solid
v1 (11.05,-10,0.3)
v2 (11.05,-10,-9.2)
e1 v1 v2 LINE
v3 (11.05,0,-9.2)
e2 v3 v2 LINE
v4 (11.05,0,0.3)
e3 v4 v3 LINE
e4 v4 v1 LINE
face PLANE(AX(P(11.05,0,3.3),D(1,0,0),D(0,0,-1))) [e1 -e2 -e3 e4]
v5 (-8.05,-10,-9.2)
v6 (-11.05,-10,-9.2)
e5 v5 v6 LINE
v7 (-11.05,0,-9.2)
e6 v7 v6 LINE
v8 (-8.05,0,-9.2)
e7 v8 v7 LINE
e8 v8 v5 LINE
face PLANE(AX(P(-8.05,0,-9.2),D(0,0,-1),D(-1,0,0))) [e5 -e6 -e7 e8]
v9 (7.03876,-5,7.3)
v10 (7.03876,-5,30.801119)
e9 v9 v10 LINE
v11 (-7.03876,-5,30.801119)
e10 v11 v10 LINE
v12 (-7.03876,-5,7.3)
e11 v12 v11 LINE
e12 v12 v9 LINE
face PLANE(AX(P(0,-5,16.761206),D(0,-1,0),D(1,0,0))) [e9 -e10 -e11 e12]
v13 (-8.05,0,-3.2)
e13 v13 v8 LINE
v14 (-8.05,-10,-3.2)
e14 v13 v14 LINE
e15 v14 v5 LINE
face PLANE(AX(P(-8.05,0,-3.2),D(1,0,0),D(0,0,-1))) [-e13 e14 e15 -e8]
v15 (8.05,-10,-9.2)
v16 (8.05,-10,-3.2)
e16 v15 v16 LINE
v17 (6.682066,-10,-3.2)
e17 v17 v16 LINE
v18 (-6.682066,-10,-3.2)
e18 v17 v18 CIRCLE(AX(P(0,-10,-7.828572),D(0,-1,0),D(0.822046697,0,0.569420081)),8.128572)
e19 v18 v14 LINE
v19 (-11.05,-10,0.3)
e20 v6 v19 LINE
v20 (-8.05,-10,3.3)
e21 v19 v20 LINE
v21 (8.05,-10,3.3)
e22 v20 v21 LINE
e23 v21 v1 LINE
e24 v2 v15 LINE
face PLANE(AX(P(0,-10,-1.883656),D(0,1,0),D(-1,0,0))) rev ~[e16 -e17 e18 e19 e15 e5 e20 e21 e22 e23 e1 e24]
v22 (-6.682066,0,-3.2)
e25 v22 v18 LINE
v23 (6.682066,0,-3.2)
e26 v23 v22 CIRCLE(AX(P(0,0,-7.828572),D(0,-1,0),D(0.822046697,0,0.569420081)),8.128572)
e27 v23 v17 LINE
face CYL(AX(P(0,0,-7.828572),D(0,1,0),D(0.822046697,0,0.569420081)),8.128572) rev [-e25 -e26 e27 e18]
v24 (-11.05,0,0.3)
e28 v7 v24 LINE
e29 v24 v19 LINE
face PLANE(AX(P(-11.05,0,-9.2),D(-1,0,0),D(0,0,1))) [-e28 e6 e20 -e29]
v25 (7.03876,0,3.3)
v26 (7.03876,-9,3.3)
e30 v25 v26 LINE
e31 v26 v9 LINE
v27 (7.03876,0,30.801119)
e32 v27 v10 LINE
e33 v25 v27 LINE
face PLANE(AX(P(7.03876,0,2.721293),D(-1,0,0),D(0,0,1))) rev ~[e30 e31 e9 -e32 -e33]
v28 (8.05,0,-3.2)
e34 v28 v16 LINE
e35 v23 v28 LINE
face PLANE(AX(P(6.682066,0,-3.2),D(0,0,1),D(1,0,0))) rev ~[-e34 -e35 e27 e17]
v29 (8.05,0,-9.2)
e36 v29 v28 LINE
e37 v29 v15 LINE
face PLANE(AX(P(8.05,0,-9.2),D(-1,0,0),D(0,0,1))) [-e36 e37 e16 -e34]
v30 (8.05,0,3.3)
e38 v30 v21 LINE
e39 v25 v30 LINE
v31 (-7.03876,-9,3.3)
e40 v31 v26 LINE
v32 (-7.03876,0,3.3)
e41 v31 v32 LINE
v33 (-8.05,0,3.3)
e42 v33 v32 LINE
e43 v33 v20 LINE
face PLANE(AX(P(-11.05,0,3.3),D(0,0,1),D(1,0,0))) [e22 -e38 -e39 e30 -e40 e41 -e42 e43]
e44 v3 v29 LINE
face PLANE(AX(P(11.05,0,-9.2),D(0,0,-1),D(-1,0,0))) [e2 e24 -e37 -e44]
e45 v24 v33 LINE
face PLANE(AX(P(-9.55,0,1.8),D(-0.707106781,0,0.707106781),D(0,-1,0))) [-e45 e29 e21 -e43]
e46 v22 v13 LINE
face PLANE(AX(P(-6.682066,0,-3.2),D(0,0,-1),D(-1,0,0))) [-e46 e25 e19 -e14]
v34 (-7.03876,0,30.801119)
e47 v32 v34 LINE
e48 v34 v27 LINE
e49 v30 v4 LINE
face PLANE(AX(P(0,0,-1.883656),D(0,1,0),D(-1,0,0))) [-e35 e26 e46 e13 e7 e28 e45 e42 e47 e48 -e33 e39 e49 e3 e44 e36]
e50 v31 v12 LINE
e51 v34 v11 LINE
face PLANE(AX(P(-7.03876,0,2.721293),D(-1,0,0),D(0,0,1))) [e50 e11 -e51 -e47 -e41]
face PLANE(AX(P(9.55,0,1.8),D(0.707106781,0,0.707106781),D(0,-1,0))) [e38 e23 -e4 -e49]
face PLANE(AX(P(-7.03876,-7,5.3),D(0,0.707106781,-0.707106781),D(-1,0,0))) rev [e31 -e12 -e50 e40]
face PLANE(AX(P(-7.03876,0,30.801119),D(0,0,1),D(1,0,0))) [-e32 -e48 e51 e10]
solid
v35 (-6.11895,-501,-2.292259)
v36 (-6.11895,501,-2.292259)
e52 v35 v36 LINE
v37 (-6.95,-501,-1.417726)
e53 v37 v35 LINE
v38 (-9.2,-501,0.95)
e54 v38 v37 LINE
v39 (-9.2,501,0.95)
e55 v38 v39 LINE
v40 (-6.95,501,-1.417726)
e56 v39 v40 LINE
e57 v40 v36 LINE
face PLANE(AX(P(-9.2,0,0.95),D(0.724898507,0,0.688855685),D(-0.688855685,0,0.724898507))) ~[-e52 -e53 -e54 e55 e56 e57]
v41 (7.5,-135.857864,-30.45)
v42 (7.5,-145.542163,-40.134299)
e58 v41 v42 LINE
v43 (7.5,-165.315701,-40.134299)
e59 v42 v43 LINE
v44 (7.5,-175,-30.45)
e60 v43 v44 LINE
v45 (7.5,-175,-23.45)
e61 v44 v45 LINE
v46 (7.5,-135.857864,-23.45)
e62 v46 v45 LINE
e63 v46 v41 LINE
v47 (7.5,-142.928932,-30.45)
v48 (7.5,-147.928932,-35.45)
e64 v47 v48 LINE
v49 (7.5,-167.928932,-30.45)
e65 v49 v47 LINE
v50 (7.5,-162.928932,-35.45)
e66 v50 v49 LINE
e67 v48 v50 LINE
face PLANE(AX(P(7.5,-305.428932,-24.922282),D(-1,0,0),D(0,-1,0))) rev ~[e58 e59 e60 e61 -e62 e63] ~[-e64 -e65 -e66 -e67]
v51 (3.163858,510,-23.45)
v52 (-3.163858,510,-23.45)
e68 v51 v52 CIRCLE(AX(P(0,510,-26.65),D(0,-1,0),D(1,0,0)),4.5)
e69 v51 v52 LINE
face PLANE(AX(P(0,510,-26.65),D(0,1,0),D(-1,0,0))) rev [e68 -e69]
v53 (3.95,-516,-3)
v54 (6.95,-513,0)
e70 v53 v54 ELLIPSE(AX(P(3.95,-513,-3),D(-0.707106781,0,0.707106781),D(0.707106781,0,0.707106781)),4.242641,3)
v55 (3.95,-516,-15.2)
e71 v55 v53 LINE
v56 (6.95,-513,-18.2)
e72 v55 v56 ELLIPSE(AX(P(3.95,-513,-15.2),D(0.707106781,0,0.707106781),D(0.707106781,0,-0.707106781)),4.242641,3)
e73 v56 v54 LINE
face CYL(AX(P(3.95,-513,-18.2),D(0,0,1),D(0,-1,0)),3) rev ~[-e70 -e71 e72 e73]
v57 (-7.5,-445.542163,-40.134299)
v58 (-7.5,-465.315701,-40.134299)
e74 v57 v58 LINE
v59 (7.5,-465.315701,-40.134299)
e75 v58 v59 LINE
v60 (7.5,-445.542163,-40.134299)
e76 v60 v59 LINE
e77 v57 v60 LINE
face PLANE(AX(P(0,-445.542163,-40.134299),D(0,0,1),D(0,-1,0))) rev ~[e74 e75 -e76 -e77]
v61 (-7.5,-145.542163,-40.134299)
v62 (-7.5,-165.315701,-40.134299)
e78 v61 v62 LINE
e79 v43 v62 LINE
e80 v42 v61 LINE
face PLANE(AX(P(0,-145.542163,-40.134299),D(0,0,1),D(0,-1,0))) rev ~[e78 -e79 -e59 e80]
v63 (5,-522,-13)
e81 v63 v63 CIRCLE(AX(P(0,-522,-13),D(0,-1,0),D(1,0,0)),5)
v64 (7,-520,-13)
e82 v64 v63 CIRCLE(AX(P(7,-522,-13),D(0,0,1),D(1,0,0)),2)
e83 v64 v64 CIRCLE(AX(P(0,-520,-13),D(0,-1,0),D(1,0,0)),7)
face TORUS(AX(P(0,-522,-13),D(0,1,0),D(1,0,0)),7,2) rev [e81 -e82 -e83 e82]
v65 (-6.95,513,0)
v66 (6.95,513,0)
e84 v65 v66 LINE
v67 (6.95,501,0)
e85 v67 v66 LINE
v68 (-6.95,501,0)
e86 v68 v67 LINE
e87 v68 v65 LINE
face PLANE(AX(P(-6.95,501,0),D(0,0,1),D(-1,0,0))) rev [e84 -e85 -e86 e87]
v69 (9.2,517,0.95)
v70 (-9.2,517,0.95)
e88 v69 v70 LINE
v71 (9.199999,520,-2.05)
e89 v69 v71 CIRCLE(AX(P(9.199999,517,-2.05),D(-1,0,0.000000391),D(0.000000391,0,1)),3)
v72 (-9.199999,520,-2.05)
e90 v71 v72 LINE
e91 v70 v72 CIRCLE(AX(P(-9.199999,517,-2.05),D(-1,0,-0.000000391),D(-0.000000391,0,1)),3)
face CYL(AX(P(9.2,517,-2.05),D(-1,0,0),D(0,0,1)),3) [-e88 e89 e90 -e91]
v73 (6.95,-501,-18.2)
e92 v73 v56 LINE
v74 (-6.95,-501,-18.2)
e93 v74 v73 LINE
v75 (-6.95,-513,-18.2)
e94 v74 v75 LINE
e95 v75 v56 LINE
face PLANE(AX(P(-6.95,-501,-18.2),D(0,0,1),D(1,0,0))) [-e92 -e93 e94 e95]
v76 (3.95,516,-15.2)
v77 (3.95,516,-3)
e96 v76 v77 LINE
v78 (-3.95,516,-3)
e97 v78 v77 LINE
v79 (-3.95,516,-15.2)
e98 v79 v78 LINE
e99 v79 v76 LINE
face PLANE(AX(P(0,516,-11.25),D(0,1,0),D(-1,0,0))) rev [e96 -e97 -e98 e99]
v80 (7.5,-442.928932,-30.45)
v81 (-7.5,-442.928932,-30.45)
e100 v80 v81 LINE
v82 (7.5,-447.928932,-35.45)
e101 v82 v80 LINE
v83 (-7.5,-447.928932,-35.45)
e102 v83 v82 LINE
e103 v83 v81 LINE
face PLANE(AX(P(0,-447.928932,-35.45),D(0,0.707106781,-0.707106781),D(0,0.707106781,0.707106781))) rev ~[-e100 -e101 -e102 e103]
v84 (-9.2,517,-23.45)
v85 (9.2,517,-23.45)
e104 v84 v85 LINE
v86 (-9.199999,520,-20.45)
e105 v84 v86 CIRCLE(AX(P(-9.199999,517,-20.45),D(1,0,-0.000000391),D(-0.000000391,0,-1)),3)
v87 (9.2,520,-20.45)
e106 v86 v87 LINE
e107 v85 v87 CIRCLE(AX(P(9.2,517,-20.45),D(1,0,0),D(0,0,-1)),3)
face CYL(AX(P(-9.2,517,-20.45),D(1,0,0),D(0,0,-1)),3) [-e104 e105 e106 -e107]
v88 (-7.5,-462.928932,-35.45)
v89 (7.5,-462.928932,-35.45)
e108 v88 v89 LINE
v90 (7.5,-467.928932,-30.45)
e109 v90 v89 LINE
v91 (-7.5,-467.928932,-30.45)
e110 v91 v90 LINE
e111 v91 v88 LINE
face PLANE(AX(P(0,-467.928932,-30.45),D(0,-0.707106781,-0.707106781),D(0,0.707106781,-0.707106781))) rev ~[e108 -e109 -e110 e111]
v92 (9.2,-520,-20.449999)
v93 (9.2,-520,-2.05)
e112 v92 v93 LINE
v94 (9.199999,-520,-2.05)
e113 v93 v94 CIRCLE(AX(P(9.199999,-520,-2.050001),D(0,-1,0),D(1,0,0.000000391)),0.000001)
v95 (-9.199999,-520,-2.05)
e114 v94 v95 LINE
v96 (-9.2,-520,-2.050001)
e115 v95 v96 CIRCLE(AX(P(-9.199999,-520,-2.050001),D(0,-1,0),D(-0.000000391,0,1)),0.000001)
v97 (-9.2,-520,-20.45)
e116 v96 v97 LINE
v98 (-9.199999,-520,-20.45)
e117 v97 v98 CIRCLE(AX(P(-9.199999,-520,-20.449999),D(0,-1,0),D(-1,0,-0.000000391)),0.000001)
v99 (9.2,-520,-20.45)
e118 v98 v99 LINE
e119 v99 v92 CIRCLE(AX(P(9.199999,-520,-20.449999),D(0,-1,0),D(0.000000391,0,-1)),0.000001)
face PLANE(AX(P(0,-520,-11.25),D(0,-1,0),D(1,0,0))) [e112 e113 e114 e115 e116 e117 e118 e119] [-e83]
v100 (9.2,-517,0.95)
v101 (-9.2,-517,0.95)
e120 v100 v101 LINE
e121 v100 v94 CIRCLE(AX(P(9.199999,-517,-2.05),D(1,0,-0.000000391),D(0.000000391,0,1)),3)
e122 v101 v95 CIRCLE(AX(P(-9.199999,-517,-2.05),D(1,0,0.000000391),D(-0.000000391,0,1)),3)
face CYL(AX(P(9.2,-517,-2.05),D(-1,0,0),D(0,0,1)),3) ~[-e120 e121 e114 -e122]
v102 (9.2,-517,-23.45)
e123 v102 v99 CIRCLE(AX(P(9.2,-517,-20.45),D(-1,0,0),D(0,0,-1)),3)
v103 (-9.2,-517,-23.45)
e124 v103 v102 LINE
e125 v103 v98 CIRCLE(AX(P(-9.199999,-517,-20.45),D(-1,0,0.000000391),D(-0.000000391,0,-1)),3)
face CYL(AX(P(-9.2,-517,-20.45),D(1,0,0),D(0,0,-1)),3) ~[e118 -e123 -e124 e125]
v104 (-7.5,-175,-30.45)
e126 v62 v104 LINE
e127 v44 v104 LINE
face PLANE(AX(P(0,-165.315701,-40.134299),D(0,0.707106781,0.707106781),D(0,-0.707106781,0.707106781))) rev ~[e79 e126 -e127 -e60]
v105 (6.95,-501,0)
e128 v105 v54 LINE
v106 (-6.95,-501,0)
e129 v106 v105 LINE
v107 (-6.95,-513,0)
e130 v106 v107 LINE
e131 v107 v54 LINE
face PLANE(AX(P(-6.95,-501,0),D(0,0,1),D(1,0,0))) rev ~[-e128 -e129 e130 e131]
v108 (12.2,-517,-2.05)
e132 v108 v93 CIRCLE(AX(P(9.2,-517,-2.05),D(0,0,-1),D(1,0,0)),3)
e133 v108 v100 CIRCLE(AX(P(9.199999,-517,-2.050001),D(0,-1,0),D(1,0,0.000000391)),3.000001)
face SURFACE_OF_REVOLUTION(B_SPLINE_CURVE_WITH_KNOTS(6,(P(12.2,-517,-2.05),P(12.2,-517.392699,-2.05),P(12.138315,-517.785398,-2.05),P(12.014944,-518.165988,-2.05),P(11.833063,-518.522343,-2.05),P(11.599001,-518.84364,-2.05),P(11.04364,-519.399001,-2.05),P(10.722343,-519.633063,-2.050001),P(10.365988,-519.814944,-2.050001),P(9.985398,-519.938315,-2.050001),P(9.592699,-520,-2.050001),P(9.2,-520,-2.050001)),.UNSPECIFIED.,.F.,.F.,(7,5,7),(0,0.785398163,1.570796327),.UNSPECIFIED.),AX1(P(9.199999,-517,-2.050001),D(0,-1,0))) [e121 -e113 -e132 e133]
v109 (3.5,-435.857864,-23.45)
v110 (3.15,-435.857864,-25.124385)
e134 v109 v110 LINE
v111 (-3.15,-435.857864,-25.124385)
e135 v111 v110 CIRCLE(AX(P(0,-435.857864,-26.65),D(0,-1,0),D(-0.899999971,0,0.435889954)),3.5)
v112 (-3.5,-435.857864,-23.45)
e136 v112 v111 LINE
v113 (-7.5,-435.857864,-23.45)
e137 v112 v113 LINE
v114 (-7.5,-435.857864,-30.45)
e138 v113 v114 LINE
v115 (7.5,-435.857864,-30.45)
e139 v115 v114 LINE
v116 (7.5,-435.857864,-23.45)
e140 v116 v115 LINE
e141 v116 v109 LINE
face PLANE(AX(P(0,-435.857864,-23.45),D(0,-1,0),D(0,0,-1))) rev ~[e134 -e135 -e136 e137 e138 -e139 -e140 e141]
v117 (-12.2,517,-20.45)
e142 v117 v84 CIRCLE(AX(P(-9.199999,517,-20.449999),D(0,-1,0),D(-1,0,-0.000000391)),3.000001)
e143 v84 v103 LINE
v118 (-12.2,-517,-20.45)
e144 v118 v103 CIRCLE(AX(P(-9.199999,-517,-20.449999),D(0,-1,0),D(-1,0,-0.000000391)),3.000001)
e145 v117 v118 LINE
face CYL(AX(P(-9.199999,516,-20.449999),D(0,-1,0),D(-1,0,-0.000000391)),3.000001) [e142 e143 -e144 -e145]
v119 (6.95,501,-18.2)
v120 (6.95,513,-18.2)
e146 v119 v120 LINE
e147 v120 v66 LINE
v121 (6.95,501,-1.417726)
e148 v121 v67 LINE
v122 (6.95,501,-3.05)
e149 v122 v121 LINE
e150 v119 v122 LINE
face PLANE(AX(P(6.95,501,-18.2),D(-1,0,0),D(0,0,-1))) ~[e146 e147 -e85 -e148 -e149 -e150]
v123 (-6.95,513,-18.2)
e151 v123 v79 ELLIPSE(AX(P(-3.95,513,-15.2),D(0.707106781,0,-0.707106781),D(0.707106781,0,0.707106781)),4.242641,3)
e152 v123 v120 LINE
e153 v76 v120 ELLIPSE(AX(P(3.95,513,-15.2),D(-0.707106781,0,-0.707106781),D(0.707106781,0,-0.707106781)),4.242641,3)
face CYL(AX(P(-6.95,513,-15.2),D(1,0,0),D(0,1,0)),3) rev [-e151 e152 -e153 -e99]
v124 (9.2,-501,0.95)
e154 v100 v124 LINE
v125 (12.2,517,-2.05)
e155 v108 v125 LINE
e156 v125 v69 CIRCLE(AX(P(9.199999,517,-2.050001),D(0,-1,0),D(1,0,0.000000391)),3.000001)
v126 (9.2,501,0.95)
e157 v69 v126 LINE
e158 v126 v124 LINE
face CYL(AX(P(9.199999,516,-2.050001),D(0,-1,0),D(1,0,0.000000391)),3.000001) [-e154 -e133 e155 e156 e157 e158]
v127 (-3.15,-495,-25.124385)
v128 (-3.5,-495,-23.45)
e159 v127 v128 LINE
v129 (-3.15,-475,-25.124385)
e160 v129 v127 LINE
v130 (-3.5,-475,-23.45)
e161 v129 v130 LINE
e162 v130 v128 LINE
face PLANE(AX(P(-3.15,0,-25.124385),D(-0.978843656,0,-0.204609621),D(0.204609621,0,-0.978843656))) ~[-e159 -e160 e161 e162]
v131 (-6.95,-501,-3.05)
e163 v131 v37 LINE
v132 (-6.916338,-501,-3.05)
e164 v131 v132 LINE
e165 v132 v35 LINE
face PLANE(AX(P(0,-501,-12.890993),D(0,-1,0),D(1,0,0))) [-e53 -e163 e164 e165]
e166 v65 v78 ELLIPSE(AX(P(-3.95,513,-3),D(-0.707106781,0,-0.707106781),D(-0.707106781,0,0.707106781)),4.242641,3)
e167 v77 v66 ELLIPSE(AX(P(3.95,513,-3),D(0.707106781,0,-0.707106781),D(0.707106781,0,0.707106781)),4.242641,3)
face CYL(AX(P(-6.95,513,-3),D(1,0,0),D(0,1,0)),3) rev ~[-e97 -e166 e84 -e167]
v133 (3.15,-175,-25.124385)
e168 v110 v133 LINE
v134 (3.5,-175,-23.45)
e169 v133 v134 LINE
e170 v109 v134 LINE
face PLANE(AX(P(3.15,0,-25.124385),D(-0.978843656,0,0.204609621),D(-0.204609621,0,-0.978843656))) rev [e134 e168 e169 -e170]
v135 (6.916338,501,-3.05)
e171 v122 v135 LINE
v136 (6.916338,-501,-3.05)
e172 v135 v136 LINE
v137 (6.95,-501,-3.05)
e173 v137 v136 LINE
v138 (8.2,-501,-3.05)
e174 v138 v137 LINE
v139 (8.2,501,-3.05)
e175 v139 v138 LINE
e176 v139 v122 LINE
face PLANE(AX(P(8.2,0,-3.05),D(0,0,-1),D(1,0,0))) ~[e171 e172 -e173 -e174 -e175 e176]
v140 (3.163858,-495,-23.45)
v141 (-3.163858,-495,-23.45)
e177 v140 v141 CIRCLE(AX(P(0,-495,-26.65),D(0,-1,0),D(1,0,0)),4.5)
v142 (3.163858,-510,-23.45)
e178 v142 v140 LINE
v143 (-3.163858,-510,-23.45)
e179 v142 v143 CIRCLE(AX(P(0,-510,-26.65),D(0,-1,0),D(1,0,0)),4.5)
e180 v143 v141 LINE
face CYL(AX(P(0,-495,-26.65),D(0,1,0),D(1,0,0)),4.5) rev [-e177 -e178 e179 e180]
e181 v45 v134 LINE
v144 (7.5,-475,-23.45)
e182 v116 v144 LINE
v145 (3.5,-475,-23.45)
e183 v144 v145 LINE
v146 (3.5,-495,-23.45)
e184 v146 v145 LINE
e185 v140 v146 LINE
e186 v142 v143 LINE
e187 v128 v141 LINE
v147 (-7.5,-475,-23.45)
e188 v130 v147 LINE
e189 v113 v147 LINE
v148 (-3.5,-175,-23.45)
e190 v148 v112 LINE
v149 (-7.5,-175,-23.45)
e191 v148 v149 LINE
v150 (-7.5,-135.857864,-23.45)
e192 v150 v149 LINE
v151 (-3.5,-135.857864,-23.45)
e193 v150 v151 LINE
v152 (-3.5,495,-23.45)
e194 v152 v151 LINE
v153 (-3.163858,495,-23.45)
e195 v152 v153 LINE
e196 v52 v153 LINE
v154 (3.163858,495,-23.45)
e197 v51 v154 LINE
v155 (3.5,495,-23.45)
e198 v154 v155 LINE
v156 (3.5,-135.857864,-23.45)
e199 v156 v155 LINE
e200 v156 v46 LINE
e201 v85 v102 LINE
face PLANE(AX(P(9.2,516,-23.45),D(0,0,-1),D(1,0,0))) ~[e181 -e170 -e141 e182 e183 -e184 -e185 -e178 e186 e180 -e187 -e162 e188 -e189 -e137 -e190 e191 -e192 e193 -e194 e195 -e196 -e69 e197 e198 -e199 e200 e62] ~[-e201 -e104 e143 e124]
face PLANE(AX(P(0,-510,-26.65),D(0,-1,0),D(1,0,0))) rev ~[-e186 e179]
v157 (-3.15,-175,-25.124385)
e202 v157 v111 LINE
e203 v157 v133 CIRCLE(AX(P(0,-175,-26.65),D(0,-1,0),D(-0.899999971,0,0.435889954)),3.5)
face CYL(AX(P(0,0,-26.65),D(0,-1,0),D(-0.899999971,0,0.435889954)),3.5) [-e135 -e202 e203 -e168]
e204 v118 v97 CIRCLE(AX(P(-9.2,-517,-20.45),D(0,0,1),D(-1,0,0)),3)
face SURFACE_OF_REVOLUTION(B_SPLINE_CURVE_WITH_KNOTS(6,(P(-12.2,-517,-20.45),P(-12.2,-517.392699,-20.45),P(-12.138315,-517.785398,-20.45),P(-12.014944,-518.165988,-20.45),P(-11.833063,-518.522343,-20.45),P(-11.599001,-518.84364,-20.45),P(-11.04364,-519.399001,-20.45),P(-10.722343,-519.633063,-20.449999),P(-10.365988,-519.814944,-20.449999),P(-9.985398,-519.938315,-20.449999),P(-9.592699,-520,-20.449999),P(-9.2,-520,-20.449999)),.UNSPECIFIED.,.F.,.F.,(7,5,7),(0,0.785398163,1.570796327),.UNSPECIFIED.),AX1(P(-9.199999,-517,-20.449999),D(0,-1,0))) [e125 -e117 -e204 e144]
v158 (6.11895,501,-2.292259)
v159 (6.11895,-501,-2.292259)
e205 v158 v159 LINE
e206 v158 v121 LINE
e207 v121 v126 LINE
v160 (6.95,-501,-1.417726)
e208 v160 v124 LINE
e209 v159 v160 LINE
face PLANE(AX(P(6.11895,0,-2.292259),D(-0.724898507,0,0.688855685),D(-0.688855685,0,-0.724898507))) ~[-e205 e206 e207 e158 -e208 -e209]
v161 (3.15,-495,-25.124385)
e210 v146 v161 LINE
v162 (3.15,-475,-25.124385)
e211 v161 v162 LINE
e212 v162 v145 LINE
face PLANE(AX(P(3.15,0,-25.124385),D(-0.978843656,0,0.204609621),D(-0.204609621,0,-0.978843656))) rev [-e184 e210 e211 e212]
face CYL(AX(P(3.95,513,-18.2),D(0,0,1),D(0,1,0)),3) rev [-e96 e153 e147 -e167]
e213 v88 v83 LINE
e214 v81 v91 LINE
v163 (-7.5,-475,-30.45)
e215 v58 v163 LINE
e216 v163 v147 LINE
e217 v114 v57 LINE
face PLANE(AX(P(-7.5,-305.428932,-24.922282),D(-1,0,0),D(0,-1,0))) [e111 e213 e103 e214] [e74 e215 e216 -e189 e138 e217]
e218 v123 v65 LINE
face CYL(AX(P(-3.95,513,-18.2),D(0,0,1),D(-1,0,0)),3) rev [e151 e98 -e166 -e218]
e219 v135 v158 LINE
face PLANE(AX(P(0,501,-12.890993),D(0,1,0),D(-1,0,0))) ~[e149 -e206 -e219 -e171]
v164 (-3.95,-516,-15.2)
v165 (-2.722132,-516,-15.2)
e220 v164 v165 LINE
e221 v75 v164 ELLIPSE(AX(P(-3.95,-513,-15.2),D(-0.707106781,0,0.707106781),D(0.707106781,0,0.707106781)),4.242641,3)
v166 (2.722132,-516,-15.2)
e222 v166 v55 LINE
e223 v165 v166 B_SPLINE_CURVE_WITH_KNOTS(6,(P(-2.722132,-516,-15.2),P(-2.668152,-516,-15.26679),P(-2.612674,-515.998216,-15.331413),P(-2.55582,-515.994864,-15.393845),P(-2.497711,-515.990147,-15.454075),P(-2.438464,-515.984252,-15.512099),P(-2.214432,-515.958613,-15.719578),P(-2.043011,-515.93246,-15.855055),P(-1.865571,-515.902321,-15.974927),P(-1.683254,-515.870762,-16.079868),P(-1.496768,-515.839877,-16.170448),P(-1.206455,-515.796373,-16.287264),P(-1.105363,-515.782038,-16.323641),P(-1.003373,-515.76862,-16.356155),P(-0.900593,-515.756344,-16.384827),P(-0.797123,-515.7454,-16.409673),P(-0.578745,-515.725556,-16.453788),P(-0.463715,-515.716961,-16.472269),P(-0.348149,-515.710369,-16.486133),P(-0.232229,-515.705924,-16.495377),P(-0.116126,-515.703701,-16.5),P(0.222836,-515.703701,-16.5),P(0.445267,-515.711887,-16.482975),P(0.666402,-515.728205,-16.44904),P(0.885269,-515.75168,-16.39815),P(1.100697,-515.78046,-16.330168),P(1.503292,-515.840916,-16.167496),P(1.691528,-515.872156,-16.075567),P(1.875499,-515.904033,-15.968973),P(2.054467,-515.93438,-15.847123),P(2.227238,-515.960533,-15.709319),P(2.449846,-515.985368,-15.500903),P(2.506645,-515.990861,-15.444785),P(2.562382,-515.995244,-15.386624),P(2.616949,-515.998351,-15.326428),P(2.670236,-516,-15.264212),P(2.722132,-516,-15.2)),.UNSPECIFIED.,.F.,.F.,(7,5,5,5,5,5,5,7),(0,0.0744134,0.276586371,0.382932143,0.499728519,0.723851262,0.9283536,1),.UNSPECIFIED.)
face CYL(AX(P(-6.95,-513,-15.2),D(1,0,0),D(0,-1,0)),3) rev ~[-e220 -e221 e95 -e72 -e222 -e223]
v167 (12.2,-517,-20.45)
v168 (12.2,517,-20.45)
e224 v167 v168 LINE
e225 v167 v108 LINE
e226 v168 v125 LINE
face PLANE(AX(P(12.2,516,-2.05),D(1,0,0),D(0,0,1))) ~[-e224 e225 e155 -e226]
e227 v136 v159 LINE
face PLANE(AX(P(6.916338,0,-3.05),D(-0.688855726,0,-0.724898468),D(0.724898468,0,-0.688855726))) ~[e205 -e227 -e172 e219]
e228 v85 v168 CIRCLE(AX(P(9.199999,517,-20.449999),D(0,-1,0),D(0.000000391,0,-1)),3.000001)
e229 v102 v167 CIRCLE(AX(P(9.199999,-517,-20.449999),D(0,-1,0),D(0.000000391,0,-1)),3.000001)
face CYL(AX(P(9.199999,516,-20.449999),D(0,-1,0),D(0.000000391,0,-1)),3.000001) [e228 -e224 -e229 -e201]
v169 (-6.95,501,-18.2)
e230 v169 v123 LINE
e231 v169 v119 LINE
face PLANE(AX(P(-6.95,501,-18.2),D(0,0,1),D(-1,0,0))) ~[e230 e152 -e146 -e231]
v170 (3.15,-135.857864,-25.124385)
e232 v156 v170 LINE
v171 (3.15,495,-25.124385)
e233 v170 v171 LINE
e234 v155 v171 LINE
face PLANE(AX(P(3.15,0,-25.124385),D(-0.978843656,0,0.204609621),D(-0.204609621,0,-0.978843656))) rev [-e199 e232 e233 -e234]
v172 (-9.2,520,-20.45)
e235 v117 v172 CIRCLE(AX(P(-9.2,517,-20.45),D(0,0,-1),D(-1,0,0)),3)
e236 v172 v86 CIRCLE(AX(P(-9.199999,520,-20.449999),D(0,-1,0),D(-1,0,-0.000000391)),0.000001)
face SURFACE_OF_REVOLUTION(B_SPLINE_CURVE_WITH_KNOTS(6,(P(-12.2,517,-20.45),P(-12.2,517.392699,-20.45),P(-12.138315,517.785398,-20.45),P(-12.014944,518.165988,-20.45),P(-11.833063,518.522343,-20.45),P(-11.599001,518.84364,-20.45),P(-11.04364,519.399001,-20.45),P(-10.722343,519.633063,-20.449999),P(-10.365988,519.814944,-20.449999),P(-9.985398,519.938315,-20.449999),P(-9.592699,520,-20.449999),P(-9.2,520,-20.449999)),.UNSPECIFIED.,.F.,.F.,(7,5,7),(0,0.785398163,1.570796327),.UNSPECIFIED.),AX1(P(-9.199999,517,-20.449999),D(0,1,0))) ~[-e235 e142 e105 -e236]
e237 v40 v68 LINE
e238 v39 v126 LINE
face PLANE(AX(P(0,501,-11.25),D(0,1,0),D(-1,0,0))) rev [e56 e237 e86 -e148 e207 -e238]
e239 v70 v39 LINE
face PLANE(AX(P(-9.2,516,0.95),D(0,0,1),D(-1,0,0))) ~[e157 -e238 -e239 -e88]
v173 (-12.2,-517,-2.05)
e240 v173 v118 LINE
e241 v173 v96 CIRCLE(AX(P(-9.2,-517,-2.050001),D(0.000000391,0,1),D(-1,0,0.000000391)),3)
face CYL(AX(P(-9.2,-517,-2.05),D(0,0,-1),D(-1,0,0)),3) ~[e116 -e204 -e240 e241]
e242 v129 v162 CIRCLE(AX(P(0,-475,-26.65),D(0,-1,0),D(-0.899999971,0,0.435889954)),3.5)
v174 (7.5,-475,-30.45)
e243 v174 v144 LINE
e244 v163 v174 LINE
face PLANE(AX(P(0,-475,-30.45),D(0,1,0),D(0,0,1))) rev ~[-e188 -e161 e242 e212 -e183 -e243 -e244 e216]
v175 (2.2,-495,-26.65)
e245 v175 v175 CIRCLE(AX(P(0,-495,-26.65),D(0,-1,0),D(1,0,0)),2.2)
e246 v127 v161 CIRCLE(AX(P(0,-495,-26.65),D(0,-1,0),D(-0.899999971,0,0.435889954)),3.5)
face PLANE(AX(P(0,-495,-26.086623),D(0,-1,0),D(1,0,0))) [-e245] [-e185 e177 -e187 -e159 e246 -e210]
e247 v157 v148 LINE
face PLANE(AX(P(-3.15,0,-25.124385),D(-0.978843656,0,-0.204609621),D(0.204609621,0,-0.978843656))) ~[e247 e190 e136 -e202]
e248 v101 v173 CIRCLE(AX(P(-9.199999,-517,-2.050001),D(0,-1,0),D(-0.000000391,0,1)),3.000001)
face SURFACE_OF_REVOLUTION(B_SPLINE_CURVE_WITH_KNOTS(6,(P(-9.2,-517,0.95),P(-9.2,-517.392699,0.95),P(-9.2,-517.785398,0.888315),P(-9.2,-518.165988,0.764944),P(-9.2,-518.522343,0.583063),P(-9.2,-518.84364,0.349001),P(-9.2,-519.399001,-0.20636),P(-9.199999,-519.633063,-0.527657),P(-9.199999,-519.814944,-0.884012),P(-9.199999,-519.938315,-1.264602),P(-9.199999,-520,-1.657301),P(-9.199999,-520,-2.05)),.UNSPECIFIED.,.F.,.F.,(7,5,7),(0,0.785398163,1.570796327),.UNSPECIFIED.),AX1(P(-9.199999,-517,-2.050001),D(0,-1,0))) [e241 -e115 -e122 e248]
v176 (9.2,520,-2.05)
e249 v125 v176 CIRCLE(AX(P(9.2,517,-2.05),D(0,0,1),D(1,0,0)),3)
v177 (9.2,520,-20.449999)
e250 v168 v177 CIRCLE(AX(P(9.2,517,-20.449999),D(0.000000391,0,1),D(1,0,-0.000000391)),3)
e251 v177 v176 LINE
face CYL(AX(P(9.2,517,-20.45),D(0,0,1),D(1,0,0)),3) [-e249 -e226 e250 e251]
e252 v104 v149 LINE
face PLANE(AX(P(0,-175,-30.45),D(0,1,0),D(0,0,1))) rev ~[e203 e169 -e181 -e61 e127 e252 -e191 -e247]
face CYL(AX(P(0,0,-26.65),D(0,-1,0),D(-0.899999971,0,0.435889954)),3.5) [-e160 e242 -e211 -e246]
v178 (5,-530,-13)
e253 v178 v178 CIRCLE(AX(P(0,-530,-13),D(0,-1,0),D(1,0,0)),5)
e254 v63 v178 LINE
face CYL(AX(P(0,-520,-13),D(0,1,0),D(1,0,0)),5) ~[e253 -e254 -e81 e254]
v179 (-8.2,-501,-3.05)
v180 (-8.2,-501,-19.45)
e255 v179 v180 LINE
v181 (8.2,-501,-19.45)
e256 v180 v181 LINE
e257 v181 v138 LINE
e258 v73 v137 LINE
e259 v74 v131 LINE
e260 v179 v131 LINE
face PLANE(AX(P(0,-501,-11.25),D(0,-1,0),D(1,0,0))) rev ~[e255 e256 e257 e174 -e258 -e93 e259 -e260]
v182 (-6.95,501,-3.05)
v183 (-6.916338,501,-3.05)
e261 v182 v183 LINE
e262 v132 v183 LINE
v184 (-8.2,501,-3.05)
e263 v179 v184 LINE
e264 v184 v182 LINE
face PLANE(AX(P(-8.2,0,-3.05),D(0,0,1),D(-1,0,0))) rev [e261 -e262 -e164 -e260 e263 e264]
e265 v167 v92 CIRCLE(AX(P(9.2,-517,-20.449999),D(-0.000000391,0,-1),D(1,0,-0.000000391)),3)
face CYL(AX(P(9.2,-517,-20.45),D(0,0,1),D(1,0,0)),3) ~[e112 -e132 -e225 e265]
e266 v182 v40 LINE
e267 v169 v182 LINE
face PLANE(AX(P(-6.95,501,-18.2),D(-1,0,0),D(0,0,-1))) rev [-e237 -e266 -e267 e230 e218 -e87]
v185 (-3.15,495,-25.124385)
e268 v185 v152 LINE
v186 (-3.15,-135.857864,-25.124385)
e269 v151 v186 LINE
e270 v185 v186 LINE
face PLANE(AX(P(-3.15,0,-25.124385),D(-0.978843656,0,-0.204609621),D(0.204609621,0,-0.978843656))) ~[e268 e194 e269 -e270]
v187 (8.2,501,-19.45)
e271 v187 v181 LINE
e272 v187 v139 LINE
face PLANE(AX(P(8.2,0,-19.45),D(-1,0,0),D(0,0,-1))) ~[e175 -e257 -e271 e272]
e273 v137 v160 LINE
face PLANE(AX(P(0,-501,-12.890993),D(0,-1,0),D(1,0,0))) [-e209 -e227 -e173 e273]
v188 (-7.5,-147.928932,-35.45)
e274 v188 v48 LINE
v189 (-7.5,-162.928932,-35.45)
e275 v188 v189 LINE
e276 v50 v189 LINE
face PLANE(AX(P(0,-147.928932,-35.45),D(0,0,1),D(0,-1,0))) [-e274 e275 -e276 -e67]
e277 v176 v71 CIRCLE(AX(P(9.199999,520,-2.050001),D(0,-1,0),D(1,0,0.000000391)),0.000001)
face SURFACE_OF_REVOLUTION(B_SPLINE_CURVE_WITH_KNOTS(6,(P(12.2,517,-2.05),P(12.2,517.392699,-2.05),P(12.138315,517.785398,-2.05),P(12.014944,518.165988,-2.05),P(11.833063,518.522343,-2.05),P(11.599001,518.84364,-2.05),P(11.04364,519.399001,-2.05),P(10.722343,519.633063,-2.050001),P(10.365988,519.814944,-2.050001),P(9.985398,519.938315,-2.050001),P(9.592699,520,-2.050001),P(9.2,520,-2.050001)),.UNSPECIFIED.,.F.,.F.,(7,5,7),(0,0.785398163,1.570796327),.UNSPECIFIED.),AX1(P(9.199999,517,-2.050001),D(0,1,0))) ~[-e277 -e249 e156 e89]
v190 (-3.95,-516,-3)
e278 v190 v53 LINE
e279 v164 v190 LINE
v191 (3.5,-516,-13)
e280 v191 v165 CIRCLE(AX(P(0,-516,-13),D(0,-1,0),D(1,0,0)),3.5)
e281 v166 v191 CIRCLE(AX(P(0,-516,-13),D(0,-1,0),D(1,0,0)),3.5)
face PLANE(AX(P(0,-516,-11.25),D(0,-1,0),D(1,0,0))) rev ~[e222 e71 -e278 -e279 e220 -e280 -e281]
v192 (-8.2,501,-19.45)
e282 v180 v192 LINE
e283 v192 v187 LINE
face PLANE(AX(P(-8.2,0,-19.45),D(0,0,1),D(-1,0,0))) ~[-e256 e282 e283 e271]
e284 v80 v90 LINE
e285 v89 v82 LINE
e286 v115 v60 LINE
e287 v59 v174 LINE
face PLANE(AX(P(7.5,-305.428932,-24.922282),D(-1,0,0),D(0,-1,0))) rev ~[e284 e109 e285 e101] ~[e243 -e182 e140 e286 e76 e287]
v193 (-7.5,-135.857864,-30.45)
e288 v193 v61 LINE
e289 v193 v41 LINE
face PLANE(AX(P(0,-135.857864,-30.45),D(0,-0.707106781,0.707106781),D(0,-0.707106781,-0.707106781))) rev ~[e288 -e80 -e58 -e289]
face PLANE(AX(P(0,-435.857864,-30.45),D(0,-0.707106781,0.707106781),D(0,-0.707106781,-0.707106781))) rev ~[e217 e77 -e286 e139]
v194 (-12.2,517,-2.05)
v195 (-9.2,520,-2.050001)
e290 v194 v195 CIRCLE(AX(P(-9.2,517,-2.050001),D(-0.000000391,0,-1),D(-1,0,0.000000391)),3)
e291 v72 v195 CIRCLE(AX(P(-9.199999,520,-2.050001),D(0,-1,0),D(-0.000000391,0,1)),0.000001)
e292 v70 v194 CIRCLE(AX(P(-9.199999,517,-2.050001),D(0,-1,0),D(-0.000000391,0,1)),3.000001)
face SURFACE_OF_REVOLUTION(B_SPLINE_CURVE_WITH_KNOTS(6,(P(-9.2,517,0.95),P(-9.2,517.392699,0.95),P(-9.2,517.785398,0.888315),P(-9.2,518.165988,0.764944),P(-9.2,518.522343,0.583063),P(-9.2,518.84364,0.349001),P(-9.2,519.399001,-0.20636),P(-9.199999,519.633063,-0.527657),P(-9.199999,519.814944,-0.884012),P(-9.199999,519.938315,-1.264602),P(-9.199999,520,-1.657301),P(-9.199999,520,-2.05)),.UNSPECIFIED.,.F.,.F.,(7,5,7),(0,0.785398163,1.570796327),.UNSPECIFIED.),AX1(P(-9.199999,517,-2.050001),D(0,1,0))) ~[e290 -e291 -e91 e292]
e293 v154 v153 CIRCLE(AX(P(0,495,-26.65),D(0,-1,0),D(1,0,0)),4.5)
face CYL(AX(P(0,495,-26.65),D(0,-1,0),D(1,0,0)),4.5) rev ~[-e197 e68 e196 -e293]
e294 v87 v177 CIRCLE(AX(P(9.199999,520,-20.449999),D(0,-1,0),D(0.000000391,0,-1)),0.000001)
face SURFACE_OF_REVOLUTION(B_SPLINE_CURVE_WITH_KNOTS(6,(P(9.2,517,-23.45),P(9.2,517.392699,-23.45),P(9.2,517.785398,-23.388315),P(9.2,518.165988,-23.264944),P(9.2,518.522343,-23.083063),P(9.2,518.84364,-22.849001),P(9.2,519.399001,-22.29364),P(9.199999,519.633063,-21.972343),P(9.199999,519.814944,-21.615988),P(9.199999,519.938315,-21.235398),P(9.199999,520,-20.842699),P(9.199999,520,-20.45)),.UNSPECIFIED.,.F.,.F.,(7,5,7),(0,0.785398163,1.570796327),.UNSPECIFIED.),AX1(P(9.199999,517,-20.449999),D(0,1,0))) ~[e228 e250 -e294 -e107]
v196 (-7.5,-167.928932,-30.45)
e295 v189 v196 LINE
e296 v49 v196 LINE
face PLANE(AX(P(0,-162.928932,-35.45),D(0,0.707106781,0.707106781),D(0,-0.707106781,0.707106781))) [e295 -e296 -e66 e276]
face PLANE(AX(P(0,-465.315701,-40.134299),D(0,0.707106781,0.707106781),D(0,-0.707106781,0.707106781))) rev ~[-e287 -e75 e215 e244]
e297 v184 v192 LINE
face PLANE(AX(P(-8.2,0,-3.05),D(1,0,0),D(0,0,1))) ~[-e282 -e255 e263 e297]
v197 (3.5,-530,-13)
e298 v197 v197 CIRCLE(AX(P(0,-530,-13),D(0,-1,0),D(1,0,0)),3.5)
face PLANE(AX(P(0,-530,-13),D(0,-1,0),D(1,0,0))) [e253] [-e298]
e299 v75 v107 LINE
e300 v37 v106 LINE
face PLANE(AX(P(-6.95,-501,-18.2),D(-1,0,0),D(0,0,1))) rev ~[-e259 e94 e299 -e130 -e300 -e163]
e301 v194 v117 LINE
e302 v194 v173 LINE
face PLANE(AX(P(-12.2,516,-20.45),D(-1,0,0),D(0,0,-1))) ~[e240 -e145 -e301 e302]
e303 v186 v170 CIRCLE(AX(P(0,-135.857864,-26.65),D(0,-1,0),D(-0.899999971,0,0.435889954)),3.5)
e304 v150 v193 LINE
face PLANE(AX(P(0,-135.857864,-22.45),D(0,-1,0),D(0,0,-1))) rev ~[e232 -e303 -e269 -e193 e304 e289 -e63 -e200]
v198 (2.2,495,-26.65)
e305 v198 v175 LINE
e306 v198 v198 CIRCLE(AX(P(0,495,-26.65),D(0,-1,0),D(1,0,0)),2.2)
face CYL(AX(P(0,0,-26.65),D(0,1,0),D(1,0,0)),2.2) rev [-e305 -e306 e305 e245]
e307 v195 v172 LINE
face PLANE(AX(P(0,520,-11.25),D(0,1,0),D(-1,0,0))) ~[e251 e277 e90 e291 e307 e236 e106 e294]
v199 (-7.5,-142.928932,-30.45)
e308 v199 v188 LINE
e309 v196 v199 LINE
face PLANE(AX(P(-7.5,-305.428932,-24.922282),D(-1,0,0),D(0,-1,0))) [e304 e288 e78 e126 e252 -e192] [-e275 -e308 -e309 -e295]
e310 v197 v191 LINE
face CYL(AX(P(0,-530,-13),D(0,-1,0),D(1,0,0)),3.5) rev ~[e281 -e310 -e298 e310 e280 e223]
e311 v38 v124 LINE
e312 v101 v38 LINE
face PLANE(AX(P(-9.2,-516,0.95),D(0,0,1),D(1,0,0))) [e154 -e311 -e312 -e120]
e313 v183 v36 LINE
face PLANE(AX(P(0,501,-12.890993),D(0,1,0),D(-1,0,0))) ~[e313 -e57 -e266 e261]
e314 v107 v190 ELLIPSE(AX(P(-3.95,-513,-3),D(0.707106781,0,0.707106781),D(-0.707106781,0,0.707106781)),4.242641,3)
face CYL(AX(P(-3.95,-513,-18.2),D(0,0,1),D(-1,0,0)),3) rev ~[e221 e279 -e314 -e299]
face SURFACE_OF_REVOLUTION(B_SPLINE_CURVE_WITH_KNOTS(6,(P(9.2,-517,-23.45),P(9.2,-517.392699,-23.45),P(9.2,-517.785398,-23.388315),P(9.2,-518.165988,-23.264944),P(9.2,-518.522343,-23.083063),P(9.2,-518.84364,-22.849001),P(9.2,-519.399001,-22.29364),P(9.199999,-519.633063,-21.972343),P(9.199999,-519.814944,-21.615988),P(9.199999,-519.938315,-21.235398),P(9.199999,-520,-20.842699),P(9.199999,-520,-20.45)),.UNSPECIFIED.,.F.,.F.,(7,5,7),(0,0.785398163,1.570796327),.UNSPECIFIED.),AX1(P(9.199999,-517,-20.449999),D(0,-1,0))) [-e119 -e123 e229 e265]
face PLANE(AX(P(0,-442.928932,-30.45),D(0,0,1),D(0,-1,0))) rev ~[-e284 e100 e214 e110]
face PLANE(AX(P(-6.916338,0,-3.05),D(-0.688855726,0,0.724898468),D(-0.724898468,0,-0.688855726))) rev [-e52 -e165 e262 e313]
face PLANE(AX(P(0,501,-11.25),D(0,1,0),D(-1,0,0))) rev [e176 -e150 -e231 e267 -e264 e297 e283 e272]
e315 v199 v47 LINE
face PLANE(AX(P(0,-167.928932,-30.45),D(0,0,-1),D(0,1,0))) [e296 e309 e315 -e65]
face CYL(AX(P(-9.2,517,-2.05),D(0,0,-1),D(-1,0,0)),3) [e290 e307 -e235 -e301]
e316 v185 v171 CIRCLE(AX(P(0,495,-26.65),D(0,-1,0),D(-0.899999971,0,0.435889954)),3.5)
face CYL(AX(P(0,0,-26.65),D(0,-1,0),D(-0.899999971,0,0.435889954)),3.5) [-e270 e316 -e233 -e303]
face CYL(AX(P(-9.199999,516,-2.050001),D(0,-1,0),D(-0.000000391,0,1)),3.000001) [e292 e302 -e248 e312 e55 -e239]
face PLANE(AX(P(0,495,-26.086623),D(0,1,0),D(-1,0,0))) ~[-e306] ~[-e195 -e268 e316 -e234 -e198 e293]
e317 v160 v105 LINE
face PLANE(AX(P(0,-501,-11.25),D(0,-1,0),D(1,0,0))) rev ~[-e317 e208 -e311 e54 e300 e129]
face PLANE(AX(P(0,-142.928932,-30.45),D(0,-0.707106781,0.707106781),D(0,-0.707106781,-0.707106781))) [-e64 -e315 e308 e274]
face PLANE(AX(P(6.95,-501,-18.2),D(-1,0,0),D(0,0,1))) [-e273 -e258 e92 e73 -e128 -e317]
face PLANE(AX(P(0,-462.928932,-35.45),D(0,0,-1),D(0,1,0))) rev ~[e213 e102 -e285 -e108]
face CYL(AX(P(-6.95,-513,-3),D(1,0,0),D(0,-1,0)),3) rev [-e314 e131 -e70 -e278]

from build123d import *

# Parameters (mm, degrees)
PAD_DEPTH            = 10
CHAMFER_SIZE         = 3
SKETCH018_W          = 14.07752
SKETCH018_H          = 28.079826
PAD009_DEPTH         = 5
CHAMFER001_SIZE      = 4
PAD017_DEPTH         = 7.5
SKETCH026_R          = 2.2
POCKET004_DEPTH      = 0.001
POCKET004_DEPTH_BACK = 475.001
PAD008_DEPTH         = 501
SKETCH019_R          = 2.2
PAD010_DEPTH         = 495
SKETCH020_W          = 13.9
SKETCH020_H          = 18.2
PAD011_DEPTH         = 15
PAD012_DEPTH         = 4
SKETCH022_R          = 4.5
POCKET_DEPTH         = 15
FILLET_R             = 3
SKETCH023_R          = 5
PAD016_DEPTH         = 10
SKETCH024_R          = 3.5
POCKET003_DEPTH      = 17
FILLET001_R          = 2


with BuildPart() as stripplacer:
    # Sketch017 → Pad (new body)
    with BuildSketch(Plane.XZ):
        with BuildLine():
            ThreePointArc((6.682066, -3.2), (0, 0.3), (-6.682066, -3.2))
            Line((-6.682066, -3.2), (-8.05, -3.2))
            Line((-8.05, -3.2), (-8.05, -9.2))
            Line((-8.05, -9.2), (-11.05, -9.2))
            Line((-11.05, -9.2), (-11.05, 3.3))
            Line((-11.05, 3.3), (11.05, 3.3))
            Line((11.05, 3.3), (11.05, -9.2))
            Line((11.05, -9.2), (8.05, -9.2))
            Line((8.05, -9.2), (8.05, -3.2))
            Line((6.682066, -3.2), (8.05, -3.2))
        make_face()
    extrude(amount=PAD_DEPTH)

    # Chamfer
    chamfer_edges = [stripplacer.edges().sort_by_distance(p)[0] for p in [
        (11.05, -5, 3.3),
        (-11.05, -5, 3.3),
    ]]
    chamfer(chamfer_edges, length=CHAMFER_SIZE)

    # Sketch018 → Pad009 (join)
    with BuildSketch(Plane.XZ):
        with Locations((0, 16.761206)):
            Rectangle(SKETCH018_W, SKETCH018_H)
    extrude(amount=PAD009_DEPTH)

    # Chamfer001
    chamfer001_edges = [stripplacer.edges().sort_by_distance(p)[0] for p in [
        (0, -5, 3.3),
    ]]
    chamfer(chamfer001_edges, length=CHAMFER001_SIZE)


with BuildPart() as scratch:
    # Sketch025 → Pad017 (new body, symmetric)
    with BuildSketch(Plane.YZ):
        Polygon((-135.857864, -30.45), (-145.542163, -40.134299), (-165.315701, -40.134299), (-175, -30.45), (-175, -23.45), (-435.857864, -23.45), (-435.857864, -30.45), (-445.542163, -40.134299), (-465.315701, -40.134299), (-475, -30.45), (-475, -22.45), (-135.857864, -22.45), align=None)
        Polygon((-167.928932, -30.45), (-142.928932, -30.45), (-147.928932, -35.45), (-162.928932, -35.45), align=None, mode=Mode.SUBTRACT)
        Polygon((-442.928932, -30.45), (-467.928932, -30.45), (-462.928932, -35.45), (-447.928932, -35.45), align=None, mode=Mode.SUBTRACT)
    extrude(amount=PAD017_DEPTH, both=True)

    # Sketch026 → Pocket004 (cut, two sides)
    with BuildSketch(Plane.XZ) as pocket004_sk:
        with Locations((0, -26.65)):
            Circle(SKETCH026_R)
    extrude(amount=-POCKET004_DEPTH, mode=Mode.SUBTRACT)
    extrude(pocket004_sk.sketch, amount=POCKET004_DEPTH_BACK, mode=Mode.SUBTRACT)


with BuildPart() as halfbodyrod:
    # Sketch016 → Pad008 (new body)
    with BuildSketch(Plane.XZ):
        with BuildLine():
            ThreePointArc((-9.2, 0.95), (-11.32132, 0.07132), (-12.2, -2.05))
            Line((-12.2, -20.45), (-12.2, -2.05))
            ThreePointArc((-12.2, -20.45), (-11.32132, -22.57132), (-9.2, -23.45))
            Line((9.2, -23.45), (-9.2, -23.45))
            ThreePointArc((9.2, -23.45), (11.32132, -22.57132), (12.2, -20.45))
            Line((12.2, -2.05), (12.2, -20.45))
            ThreePointArc((12.2, -2.05), (11.32132, 0.07132), (9.2, 0.95))
            Line((6.11895, -2.292259), (9.2, 0.95))
            Line((6.916338, -3.05), (6.11895, -2.292259))
            Line((8.2, -3.05), (6.916338, -3.05))
            Line((8.2, -19.45), (8.2, -3.05))
            Line((-8.2, -19.45), (8.2, -19.45))
            Line((-8.2, -3.05), (-8.2, -19.45))
            Line((-8.2, -3.05), (-6.916338, -3.05))
            Line((-6.916338, -3.05), (-6.11895, -2.292259))
            Line((-9.2, 0.95), (-6.11895, -2.292259))
        make_face()
    extrude(amount=PAD008_DEPTH)

    # Sketch019 → Pad010 (join)
    with BuildSketch(Plane.XZ):
        with BuildLine():
            ThreePointArc((-3.15, -25.124385), (0, -30.15), (3.15, -25.124385))
            Line((3.15, -25.124385), (3.5, -23.45))
            Line((-3.5, -23.45), (3.5, -23.45))
            Line((-3.15, -25.124385), (-3.5, -23.45))
        make_face()
        with Locations((0, -26.65)):
            Circle(SKETCH019_R, mode=Mode.SUBTRACT)
    extrude(amount=PAD010_DEPTH)

    # Sketch020 → Pad011 (join)
    with BuildSketch(Plane.XZ.offset(501)):
        with BuildLine():
            ThreePointArc((-9.2, 0.95), (-11.32132, 0.07132), (-12.2, -2.05))
            Line((-12.2, -20.45), (-12.2, -2.05))
            ThreePointArc((-12.2, -20.45), (-11.32132, -22.57132), (-9.2, -23.45))
            Line((9.2, -23.45), (-9.2, -23.45))
            ThreePointArc((9.2, -23.45), (11.32132, -22.57132), (12.2, -20.45))
            Line((12.2, -2.05), (12.2, -20.45))
            ThreePointArc((12.2, -2.05), (11.32132, 0.07132), (9.2, 0.95))
            Line((-9.2, 0.95), (9.2, 0.95))
        make_face()
        with Locations((0, -9.1)):
            Rectangle(SKETCH020_W, SKETCH020_H, mode=Mode.SUBTRACT)
    extrude(amount=PAD011_DEPTH)

    # Sketch021 → Pad012 (join)
    with BuildSketch(Plane.XZ.offset(516)):
        with BuildLine():
            ThreePointArc((-9.2, 0.95), (-11.32132, 0.07132), (-12.2, -2.05))
            Line((-12.2, -20.45), (-12.2, -2.05))
            ThreePointArc((-12.2, -20.45), (-11.32132, -22.57132), (-9.2, -23.45))
            Line((9.2, -23.45), (-9.2, -23.45))
            ThreePointArc((9.2, -23.45), (11.32132, -22.57132), (12.2, -20.45))
            Line((12.2, -2.05), (12.2, -20.45))
            ThreePointArc((12.2, -2.05), (11.32132, 0.07132), (9.2, 0.95))
            Line((-9.2, 0.95), (9.2, 0.95))
        make_face()
    extrude(amount=PAD012_DEPTH)

    # Sketch022 → Pocket (cut)
    with BuildSketch(Plane.XZ.offset(495)):
        with Locations((0, -26.65)):
            Circle(SKETCH022_R)
    extrude(amount=POCKET_DEPTH, mode=Mode.SUBTRACT)

    # Fillet
    fillet_edges = [halfbodyrod.edges().sort_by_distance(p)[0] for p in [
        (-6.95, -516, -9.1),
        (0, -516, -18.2),
        (6.95, -516, -9.1),
        (0, -516, 0),
        (-11.32132, -520, 0.07132),
        (-12.2, -520, -11.25),
        (-11.32132, -520, -22.57132),
        (0, -520, -23.45),
        (11.32132, -520, -22.57132),
        (12.2, -520, -11.25),
        (11.32132, -520, 0.07132),
        (0, -520, 0.95),
    ]]
    fillet(fillet_edges, radius=FILLET_R)


with BuildPart() as mrhalfbodyrod:
    # Part__Mirroring: instance of HalfBodyRod
    add(halfbodyrod.part.mirror(Plane(origin=(0, 0, 0), x_dir=(1, 0, 0), z_dir=(0, 1, 0))))


with BuildPart() as body:
    # Fusion base: copy of HalfBodyRod
    add(halfbodyrod.part)

    # Fusion: union mrHalfBodyRod
    add(mrhalfbodyrod.part)

    # Sketch023 → Pad016 (new body)
    with BuildSketch(Plane.XZ.offset(520)):
        with Locations((0, -13)):
            Circle(SKETCH023_R)
    extrude(amount=PAD016_DEPTH)

    # Sketch024 → Pocket003 (cut)
    with BuildSketch(Plane.XZ.offset(530)):
        with Locations((0, -13)):
            Circle(SKETCH024_R)
    extrude(amount=-POCKET003_DEPTH, mode=Mode.SUBTRACT)

    # Fillet001
    fillet001_edges = [body.edges().sort_by_distance(p)[0] for p in [
        (-5, -520, -13),
    ]]
    fillet(fillet001_edges, radius=FILLET001_R)

    # Fusion001: union Scratch
    add(scratch.part)


solid = Compound([stripplacer.part, body.part])
